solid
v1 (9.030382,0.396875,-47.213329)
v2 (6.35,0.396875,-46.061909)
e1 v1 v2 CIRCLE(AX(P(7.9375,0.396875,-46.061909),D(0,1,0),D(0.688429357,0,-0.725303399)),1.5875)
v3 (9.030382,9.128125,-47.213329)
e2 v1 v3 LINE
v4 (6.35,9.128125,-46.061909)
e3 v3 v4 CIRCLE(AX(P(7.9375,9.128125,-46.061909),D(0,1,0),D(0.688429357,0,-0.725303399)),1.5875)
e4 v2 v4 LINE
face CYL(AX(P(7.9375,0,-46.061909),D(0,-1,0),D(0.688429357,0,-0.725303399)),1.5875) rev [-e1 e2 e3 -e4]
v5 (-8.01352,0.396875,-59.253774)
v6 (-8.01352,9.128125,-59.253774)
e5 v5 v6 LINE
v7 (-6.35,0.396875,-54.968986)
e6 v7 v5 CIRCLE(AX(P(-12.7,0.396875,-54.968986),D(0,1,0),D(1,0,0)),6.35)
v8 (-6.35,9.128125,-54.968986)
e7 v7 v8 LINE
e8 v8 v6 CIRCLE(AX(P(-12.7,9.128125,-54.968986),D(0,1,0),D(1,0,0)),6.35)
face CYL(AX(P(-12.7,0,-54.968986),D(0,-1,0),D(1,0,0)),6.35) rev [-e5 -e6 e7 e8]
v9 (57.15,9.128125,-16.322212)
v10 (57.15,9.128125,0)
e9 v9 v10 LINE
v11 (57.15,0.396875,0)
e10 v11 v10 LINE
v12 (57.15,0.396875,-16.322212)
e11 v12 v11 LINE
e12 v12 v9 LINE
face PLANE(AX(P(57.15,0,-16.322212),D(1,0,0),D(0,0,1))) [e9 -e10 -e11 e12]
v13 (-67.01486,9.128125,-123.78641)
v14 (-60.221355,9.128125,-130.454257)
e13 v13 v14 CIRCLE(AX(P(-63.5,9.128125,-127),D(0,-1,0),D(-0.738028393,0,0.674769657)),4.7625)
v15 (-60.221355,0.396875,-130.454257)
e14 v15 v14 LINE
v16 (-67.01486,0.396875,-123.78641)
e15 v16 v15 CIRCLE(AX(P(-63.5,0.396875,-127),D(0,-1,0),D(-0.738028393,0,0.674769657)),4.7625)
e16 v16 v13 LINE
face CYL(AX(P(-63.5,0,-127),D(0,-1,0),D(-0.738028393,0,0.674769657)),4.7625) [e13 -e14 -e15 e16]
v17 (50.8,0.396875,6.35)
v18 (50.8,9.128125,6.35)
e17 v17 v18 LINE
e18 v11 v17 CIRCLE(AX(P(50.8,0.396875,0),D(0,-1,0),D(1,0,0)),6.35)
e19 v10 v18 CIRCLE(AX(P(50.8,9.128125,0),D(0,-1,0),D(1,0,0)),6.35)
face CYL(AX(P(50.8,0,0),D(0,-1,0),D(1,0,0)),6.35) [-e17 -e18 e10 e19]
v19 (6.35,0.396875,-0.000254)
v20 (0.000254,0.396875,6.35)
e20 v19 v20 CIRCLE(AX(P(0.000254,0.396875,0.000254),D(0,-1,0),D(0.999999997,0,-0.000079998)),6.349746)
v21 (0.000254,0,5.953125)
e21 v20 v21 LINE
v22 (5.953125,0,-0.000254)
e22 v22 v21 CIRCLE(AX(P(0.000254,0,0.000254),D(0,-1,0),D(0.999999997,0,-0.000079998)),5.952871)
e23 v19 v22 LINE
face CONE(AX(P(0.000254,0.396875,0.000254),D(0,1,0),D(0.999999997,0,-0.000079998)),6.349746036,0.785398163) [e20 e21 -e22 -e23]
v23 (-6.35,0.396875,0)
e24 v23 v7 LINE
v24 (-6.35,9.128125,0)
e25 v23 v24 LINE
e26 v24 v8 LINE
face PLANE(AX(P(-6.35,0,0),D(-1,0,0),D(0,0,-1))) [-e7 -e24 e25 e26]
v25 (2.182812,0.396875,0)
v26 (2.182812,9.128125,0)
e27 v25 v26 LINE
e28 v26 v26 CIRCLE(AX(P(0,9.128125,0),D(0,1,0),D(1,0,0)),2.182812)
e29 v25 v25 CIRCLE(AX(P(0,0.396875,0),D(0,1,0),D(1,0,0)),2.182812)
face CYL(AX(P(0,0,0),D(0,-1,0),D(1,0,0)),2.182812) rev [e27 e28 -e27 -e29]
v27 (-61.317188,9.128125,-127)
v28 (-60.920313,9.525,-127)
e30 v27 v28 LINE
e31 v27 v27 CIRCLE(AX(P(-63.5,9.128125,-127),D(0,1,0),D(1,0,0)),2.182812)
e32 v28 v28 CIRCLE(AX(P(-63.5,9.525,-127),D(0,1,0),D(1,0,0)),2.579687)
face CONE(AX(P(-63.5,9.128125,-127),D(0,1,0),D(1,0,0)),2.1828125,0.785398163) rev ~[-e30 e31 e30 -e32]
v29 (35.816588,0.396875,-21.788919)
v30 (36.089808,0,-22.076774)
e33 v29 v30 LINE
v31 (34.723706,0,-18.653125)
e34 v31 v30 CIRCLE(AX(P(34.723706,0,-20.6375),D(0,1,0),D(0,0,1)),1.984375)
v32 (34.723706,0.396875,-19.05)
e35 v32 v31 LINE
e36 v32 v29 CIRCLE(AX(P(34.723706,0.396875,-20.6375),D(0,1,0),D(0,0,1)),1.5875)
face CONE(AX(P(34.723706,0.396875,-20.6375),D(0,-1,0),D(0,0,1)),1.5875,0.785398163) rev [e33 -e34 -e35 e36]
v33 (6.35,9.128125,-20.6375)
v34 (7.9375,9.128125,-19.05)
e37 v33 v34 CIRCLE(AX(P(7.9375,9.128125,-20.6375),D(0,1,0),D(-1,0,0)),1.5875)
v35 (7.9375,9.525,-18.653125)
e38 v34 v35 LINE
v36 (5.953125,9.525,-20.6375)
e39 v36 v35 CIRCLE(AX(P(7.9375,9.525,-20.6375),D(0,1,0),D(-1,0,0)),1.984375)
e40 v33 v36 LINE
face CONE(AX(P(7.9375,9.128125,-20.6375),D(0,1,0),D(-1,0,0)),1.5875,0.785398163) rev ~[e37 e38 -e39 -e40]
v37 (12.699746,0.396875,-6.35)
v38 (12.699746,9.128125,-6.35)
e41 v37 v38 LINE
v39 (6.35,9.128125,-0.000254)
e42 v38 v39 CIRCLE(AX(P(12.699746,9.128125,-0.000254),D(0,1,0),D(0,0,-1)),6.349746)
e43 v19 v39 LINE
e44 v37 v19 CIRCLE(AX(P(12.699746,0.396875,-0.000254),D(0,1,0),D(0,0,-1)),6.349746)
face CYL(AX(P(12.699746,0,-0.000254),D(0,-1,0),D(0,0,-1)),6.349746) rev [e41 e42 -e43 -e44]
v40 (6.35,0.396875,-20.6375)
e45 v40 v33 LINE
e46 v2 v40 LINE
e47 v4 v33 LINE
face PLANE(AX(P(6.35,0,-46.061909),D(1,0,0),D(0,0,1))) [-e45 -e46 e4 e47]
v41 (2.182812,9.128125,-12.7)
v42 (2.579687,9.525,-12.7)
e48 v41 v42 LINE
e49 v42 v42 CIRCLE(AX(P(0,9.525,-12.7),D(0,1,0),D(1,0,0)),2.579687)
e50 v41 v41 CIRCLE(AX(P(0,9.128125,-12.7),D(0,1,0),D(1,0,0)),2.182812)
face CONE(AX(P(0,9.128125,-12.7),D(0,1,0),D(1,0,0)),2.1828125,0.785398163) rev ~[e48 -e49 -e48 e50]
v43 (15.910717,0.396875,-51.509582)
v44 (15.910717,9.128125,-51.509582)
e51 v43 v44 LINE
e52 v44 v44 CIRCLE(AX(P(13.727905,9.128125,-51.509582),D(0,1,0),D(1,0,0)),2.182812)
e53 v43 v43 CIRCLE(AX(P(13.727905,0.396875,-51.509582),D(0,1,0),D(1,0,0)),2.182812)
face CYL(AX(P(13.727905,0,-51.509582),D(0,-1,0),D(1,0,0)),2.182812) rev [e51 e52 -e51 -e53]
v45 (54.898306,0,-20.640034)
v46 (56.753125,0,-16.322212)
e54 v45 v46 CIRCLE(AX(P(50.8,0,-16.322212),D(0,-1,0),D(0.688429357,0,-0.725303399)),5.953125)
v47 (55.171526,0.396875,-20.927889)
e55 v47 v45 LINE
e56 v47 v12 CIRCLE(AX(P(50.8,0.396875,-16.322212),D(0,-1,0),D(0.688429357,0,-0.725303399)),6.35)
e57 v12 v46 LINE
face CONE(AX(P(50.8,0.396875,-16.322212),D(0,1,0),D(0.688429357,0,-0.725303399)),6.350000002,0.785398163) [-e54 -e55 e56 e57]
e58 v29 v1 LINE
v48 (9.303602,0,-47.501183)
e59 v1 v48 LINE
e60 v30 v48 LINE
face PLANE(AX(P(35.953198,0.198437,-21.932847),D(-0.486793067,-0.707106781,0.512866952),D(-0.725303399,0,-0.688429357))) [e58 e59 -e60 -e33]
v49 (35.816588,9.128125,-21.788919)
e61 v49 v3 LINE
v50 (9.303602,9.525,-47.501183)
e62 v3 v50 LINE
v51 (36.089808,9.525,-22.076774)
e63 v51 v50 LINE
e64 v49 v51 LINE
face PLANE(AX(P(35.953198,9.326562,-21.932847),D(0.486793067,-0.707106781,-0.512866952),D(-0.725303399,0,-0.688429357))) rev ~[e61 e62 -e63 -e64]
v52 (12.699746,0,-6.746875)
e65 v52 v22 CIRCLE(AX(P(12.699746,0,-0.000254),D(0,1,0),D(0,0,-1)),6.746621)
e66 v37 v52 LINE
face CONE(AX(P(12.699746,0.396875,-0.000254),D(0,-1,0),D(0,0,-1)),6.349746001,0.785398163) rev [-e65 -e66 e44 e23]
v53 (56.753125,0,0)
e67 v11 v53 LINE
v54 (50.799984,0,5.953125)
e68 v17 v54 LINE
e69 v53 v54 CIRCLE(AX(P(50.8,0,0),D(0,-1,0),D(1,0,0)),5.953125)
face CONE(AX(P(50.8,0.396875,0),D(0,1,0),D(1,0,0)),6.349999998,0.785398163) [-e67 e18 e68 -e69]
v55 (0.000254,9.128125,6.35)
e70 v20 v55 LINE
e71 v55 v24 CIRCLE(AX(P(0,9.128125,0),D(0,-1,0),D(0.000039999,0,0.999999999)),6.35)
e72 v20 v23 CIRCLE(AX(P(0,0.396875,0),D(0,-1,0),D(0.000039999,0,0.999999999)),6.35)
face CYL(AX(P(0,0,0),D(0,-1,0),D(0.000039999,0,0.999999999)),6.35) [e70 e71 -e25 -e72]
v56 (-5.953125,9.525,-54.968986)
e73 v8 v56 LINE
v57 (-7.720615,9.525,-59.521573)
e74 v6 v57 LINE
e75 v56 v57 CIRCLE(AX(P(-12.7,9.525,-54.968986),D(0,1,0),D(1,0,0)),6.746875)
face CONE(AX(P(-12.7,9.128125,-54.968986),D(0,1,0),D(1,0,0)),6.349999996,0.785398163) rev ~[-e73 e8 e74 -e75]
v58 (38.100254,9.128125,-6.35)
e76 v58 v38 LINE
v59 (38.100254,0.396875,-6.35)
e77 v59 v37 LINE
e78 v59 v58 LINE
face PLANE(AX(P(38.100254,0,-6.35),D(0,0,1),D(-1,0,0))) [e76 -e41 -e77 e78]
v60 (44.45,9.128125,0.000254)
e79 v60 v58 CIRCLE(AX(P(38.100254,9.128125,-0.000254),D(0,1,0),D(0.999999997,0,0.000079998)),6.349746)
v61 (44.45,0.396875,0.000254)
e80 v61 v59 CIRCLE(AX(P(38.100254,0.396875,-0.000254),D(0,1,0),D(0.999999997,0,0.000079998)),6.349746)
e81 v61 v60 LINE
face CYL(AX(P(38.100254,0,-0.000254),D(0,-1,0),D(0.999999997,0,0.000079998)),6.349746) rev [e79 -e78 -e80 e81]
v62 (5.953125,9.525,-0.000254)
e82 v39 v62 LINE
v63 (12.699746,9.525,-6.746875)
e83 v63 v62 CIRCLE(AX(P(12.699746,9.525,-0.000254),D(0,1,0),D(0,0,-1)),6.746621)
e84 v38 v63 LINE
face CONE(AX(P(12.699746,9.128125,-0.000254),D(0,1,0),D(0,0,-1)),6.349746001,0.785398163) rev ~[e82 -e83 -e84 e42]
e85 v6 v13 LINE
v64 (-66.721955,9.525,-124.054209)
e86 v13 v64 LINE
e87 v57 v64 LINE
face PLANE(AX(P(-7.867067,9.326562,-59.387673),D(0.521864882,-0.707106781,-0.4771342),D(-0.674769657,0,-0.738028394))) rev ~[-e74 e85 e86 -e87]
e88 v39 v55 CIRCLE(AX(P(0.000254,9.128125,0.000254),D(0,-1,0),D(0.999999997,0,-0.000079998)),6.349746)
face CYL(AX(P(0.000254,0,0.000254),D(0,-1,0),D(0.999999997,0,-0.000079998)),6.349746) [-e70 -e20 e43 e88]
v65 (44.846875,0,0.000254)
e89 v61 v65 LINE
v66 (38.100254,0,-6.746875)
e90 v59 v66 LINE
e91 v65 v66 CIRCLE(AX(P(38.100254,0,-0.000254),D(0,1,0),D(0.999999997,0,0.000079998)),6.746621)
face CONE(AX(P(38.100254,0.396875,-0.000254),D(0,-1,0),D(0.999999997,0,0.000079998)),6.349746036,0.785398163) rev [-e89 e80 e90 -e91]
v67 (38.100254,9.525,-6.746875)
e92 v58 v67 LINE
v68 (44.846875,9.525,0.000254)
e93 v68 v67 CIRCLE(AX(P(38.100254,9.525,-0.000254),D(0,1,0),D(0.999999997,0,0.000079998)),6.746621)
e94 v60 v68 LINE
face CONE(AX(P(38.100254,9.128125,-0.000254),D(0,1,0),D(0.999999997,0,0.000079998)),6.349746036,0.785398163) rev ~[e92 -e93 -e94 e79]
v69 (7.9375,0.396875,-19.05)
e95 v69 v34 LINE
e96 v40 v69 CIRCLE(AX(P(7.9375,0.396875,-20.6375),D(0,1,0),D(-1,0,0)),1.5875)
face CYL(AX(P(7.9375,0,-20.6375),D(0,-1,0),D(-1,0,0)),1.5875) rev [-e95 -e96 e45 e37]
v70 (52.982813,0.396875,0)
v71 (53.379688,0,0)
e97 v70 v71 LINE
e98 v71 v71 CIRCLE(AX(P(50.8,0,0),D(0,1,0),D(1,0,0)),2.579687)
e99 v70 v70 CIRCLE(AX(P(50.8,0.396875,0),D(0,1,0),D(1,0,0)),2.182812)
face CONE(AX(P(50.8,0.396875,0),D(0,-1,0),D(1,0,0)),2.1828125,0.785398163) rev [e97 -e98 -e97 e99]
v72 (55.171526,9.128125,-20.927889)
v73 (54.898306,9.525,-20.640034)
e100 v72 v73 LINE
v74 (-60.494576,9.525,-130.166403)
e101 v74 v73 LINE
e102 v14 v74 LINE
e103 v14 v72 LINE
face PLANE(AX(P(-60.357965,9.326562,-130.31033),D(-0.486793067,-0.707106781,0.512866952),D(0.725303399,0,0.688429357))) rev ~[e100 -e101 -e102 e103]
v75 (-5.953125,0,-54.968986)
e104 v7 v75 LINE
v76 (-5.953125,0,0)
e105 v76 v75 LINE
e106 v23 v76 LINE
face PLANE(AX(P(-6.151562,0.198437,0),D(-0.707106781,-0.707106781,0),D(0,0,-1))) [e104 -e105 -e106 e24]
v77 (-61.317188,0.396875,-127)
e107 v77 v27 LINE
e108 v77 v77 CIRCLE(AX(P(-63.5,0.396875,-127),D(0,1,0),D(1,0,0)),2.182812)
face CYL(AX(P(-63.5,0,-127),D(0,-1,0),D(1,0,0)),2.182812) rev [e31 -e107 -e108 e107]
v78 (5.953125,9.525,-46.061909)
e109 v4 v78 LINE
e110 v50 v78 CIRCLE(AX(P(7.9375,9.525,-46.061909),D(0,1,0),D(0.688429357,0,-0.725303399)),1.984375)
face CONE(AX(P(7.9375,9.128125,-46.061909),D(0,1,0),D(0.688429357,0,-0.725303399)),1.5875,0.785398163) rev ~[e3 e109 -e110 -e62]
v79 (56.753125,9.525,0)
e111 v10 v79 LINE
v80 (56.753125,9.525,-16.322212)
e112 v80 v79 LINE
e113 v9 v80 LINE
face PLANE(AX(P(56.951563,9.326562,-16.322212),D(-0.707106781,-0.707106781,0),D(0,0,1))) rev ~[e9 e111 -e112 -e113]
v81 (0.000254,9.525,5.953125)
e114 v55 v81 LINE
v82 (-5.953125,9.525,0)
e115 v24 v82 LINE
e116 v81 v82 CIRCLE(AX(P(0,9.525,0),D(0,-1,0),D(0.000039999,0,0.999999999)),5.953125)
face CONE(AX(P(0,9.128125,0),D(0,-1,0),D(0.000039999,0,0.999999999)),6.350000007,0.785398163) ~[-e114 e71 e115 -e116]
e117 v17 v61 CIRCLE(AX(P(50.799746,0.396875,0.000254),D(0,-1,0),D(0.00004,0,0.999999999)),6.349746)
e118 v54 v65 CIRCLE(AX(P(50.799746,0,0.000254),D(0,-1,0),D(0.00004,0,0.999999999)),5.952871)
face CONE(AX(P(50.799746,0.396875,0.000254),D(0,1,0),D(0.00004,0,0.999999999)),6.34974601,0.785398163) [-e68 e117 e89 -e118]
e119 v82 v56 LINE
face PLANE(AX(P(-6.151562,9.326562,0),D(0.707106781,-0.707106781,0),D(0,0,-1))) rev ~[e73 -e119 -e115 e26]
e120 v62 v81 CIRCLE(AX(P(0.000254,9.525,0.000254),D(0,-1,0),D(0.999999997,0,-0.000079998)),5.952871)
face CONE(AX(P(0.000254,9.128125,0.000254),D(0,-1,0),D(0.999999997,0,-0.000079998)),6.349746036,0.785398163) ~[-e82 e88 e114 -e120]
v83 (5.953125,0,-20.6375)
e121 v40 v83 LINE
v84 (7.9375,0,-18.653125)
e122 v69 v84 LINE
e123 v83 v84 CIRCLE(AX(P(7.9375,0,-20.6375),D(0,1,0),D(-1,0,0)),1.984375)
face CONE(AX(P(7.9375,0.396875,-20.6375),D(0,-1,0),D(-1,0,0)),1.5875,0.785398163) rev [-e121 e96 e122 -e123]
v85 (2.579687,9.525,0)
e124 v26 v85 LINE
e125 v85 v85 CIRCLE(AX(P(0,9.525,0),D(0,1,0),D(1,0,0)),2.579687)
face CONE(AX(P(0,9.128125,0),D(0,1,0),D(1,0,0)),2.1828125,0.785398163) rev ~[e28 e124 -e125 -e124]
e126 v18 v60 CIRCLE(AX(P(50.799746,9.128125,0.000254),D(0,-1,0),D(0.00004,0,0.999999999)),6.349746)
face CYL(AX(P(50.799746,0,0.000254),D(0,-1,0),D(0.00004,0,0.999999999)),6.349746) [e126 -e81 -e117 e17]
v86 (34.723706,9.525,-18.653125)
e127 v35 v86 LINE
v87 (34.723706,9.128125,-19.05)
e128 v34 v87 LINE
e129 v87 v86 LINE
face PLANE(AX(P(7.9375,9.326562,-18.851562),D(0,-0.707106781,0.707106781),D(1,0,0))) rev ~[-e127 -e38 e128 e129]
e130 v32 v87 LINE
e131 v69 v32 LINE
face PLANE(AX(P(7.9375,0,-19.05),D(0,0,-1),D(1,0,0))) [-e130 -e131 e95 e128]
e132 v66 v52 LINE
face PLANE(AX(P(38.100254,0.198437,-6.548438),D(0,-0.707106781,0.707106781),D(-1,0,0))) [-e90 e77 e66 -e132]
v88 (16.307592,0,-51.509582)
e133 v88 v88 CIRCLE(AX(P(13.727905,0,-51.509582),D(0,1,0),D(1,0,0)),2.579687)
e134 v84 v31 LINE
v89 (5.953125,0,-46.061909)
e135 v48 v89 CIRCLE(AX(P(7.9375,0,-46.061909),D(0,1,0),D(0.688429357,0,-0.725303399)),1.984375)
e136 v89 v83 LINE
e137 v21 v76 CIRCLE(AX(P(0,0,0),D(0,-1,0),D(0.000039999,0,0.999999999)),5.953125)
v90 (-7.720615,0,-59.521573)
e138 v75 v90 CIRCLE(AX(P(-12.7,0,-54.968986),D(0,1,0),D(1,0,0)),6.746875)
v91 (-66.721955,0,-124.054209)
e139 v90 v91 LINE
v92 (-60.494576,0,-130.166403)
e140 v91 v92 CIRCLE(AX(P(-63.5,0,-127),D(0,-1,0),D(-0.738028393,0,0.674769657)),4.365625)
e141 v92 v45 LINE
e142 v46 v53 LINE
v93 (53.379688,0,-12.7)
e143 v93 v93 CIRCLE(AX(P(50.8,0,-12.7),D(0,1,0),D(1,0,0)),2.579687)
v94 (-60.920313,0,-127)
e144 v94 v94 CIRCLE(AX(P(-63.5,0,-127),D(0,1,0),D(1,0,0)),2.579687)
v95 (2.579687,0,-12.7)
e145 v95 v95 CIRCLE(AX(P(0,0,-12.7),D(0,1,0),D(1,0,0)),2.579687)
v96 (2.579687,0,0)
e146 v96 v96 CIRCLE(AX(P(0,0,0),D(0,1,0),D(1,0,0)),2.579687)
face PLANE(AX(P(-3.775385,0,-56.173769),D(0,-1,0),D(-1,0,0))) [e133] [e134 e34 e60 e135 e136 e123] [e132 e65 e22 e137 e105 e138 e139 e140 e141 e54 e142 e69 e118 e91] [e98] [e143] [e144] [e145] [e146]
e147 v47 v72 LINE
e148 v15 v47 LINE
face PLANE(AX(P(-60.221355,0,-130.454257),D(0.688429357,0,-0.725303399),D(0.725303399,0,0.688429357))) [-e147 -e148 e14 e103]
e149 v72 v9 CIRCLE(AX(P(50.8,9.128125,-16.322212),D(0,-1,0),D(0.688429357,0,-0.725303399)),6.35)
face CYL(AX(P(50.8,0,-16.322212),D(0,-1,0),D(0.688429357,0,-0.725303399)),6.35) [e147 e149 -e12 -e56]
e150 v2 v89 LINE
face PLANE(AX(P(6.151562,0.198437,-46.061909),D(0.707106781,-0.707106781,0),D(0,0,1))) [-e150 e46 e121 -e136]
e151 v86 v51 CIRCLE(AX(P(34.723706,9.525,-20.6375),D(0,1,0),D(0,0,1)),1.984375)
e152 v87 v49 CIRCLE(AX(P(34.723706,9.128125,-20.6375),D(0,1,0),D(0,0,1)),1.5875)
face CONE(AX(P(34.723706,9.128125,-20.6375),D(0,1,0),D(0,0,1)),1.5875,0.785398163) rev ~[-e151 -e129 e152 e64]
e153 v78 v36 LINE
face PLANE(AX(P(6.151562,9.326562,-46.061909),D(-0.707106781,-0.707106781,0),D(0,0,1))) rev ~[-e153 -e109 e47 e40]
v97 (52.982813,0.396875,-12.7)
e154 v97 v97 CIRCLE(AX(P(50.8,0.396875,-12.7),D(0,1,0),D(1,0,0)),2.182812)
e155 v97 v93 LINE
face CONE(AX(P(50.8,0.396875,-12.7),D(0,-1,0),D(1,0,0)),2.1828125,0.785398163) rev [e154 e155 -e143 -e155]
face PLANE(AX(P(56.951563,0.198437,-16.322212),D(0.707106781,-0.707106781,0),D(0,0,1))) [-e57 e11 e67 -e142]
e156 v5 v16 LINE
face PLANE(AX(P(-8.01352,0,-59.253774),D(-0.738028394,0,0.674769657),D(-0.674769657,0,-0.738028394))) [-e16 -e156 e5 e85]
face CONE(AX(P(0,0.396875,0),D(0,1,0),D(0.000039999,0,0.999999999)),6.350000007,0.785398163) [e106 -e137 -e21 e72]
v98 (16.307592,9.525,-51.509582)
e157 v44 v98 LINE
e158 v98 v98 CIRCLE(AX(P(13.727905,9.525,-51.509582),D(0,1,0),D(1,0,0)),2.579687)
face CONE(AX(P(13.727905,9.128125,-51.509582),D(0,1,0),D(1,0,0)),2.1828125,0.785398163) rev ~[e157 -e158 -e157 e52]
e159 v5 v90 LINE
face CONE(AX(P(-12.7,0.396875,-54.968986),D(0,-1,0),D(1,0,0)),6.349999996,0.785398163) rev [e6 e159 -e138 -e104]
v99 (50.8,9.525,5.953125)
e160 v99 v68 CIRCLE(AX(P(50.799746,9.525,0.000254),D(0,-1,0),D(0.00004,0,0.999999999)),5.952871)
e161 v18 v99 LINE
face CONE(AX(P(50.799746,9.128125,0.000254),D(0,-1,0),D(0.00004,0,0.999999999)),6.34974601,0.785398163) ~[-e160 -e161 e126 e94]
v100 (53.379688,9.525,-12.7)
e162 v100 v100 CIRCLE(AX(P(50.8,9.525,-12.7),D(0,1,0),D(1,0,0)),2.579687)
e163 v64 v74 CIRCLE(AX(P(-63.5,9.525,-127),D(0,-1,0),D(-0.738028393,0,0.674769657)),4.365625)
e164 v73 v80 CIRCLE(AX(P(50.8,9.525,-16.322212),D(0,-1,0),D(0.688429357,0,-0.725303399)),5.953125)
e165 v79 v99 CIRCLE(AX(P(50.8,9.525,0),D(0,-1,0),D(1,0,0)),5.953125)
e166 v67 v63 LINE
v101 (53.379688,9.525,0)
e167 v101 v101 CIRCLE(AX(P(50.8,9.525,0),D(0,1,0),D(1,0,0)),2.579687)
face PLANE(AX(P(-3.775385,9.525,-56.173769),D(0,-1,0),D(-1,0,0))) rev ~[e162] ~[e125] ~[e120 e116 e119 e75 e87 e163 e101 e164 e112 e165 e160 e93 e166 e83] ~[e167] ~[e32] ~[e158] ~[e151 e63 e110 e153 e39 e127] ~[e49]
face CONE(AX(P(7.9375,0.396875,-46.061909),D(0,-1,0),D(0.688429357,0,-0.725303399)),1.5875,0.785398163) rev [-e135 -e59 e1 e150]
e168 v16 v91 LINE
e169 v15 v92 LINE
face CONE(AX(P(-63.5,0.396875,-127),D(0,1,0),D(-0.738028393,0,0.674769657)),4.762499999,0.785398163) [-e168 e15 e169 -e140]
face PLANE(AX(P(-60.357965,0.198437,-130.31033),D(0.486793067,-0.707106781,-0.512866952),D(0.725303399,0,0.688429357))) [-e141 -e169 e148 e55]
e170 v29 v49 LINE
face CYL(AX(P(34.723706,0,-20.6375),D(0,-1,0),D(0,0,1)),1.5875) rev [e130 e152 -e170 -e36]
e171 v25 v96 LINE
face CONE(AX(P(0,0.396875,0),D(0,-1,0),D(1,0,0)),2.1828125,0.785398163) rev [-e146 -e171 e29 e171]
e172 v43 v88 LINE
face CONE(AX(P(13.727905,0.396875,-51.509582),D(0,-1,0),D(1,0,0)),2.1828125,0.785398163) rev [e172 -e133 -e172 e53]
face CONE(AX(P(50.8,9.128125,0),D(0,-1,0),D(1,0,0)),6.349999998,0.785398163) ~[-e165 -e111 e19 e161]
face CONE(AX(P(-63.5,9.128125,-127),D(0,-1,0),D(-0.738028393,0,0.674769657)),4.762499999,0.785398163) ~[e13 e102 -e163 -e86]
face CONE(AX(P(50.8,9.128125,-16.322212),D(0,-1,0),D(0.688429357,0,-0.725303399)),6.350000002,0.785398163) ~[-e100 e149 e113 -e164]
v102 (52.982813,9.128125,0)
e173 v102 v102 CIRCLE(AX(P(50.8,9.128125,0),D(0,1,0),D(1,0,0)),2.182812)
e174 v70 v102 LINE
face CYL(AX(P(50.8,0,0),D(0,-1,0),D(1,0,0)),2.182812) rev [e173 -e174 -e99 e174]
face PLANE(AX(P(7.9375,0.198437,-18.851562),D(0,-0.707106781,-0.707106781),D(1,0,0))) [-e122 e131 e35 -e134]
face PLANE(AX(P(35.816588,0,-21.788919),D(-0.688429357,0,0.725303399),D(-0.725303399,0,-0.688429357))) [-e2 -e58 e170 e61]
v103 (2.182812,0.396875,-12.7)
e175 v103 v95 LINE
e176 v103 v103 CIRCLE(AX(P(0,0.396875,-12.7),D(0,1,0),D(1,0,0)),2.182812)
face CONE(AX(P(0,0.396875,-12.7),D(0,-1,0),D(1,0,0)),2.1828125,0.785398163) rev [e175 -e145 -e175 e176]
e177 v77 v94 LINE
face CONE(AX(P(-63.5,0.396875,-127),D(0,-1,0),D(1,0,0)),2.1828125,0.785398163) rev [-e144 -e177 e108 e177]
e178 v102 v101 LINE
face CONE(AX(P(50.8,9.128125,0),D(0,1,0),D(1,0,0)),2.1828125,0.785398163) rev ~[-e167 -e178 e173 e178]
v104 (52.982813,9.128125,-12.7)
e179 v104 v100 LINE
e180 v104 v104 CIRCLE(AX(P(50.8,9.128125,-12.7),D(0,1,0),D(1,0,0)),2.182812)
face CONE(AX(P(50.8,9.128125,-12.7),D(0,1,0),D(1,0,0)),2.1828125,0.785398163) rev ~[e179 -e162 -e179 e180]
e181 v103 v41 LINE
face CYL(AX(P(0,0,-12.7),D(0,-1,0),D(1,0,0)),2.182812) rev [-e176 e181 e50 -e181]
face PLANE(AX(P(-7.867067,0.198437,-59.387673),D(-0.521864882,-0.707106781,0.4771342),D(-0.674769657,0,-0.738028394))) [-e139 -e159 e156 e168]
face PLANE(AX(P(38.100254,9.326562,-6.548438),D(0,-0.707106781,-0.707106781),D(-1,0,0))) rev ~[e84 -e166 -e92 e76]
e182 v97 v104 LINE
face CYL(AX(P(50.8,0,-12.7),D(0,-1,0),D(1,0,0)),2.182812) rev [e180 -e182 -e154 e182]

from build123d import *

# Parameters (mm, degrees)
SKETCH1_R           = 2.1828125
BOSS_EXTRUDE1_DEPTH = 9.525
CHAMFER1_SIZE       = 0.396875


with BuildPart() as part:
    # Sketch1 → Boss-Extrude1 (new body)
    with BuildSketch(Plane(origin=(0, 0, 0), x_dir=(1, 0, 0), z_dir=(0, 1, 0))):
        with BuildLine():
            Line((-6.35, 0), (-6.35, 54.968986339))
            ThreePointArc((-6.35, 54.968986339), (-6.780470884, 57.267175854), (-8.013519701, 59.253773662))
            Line((-8.013519701, 59.253773662), (-67.014860224, 123.786409508))
            ThreePointArc((-67.014860224, 123.786409508), (-66.836015353, 130.398883319), (-60.221355188, 130.454257437))
            Line((-60.221355188, 130.454257437), (55.171526417, 20.927889031))
            ThreePointArc((55.171526417, 20.927889031), (56.634453391, 18.828535178), (57.15, 16.322212447))
            Line((57.15, 16.322212447), (57.15, 0))
            ThreePointArc((57.15, 0), (55.290128061, -4.490128061), (50.8, -6.35))
            ThreePointArc((50.8, -6.35), (46.309797545, -4.490202455), (44.45, -0.000254))
            ThreePointArc((44.45, -0.000254), (42.590202455, 4.490202455), (38.100254, 6.35))
            Line((38.100254, 6.35), (12.699746, 6.35))
            ThreePointArc((12.699746, 6.35), (8.209797545, 4.490202455), (6.35, 0.000254))
            ThreePointArc((6.35, 0.000254), (4.490202455, -4.490202455), (0.000254, -6.35))
            ThreePointArc((0.000254, -6.35), (-4.490128061, -4.490128061), (-6.35, 0))
        make_face()
        Circle(SKETCH1_R, mode=Mode.SUBTRACT)
        with Locations((50.8, 12.7)):
            Circle(SKETCH1_R, mode=Mode.SUBTRACT)
        with Locations((-63.5, 127)):
            Circle(SKETCH1_R, mode=Mode.SUBTRACT)
        with Locations((0, 12.7)):
            Circle(SKETCH1_R, mode=Mode.SUBTRACT)
        with Locations((50.8, 0)):
            Circle(SKETCH1_R, mode=Mode.SUBTRACT)
        with Locations((13.727904726, 51.509581964)):
            Circle(SKETCH1_R, mode=Mode.SUBTRACT)
        with BuildLine():
            Line((35.81658762, 21.788919146), (9.030381604, 47.213328586))
            ThreePointArc((9.030381604, 47.213328586), (7.310919317, 47.520522788), (6.35, 46.06190944))
            Line((6.35, 46.06190944), (6.35, 20.6375))
            ThreePointArc((6.35, 20.6375), (6.814967985, 19.514967985), (7.9375, 19.05))
            Line((7.9375, 19.05), (34.723706016, 19.05))
            ThreePointArc((34.723706016, 19.05), (36.198160855, 20.04916406), (35.81658762, 21.788919146))
        make_face(mode=Mode.SUBTRACT)
    extrude(amount=BOSS_EXTRUDE1_DEPTH)

    # Chamfer1
    chamfer1_edges = [part.edges().sort_by_distance(p)[0] for p in [
        (56.634453391, 9.525, -18.828535178),
        (-2.524914386, 9.525, -75.691073234),
        (46.309887349, 0, 4.490292258),
        (46.309887349, 0, 4.490292258),
        (42.59038206, 0, -4.490022844),
        (42.59038206, 0, -4.490022844),
        (25.4, 0, -6.35),
        (8.209797545, 0, -4.490202455),
        (4.49038206, 0, 4.490022844),
        (4.49038206, 0, 4.490022844),
        (-4.490038256, 0, 4.490217863),
        (-66.836015353, 9.525, -130.398883319),
        (-4.490038256, 0, 4.490217863),
        (-6.35, 0, -27.484493169),
        (-6.780470884, 0, -57.267175854),
        (-37.514189963, 0, -91.520091585),
        (-66.836015353, 0, -130.398883319),
        (-2.524914386, 0, -75.691073234),
        (56.634453391, 0, -18.828535178),
        (57.15, 0, -8.161106224),
        (55.290128061, 0, 4.490128061),
        (-37.514189963, 9.525, -91.520091585),
        (-6.780470884, 9.525, -57.267175854),
        (-6.35, 9.525, -27.484493169),
        (-4.490038256, 9.525, 4.490217863),
        (-4.490038256, 9.525, 4.490217863),
        (-2.1828125, 0, 0),
        (4.49038206, 9.525, 4.490022844),
        (-2.1828125, 9.525, 0),
        (48.6171875, 0, -12.7),
        (48.6171875, 9.525, -12.7),
        (4.49038206, 9.525, 4.490022844),
        (55.290128061, 9.525, 4.490128061),
        (-65.6828125, 0, -127),
        (-65.6828125, 9.525, -127),
        (8.209797545, 9.525, -4.490202455),
        (-2.1828125, 0, -12.7),
        (-2.1828125, 9.525, -12.7),
        (25.4, 9.525, -6.35),
        (48.6171875, 0, 0),
        (48.6171875, 9.525, 0),
        (42.59038206, 9.525, -4.490022844),
        (42.59038206, 9.525, -4.490022844),
        (36.198160855, 0, -20.04916406),
        (22.423484612, 0, -34.501123866),
        (7.310919317, 0, -47.520522788),
        (46.309887349, 9.525, 4.490292258),
        (6.35, 0, -33.34970472),
        (6.814967985, 0, -19.514967985),
        (21.330603008, 0, -19.05),
        (36.198160855, 9.525, -20.04916406),
        (22.423484612, 9.525, -34.501123866),
        (7.310919317, 9.525, -47.520522788),
        (6.35, 9.525, -33.34970472),
        (6.814967985, 9.525, -19.514967985),
        (21.330603008, 9.525, -19.05),
        (46.309887349, 9.525, 4.490292258),
        (11.545092226, 0, -51.509581964),
        (11.545092226, 9.525, -51.509581964),
        (57.15, 9.525, -8.161106224),
    ]]
    chamfer(chamfer1_edges, length=CHAMFER1_SIZE)


solid = part.part
